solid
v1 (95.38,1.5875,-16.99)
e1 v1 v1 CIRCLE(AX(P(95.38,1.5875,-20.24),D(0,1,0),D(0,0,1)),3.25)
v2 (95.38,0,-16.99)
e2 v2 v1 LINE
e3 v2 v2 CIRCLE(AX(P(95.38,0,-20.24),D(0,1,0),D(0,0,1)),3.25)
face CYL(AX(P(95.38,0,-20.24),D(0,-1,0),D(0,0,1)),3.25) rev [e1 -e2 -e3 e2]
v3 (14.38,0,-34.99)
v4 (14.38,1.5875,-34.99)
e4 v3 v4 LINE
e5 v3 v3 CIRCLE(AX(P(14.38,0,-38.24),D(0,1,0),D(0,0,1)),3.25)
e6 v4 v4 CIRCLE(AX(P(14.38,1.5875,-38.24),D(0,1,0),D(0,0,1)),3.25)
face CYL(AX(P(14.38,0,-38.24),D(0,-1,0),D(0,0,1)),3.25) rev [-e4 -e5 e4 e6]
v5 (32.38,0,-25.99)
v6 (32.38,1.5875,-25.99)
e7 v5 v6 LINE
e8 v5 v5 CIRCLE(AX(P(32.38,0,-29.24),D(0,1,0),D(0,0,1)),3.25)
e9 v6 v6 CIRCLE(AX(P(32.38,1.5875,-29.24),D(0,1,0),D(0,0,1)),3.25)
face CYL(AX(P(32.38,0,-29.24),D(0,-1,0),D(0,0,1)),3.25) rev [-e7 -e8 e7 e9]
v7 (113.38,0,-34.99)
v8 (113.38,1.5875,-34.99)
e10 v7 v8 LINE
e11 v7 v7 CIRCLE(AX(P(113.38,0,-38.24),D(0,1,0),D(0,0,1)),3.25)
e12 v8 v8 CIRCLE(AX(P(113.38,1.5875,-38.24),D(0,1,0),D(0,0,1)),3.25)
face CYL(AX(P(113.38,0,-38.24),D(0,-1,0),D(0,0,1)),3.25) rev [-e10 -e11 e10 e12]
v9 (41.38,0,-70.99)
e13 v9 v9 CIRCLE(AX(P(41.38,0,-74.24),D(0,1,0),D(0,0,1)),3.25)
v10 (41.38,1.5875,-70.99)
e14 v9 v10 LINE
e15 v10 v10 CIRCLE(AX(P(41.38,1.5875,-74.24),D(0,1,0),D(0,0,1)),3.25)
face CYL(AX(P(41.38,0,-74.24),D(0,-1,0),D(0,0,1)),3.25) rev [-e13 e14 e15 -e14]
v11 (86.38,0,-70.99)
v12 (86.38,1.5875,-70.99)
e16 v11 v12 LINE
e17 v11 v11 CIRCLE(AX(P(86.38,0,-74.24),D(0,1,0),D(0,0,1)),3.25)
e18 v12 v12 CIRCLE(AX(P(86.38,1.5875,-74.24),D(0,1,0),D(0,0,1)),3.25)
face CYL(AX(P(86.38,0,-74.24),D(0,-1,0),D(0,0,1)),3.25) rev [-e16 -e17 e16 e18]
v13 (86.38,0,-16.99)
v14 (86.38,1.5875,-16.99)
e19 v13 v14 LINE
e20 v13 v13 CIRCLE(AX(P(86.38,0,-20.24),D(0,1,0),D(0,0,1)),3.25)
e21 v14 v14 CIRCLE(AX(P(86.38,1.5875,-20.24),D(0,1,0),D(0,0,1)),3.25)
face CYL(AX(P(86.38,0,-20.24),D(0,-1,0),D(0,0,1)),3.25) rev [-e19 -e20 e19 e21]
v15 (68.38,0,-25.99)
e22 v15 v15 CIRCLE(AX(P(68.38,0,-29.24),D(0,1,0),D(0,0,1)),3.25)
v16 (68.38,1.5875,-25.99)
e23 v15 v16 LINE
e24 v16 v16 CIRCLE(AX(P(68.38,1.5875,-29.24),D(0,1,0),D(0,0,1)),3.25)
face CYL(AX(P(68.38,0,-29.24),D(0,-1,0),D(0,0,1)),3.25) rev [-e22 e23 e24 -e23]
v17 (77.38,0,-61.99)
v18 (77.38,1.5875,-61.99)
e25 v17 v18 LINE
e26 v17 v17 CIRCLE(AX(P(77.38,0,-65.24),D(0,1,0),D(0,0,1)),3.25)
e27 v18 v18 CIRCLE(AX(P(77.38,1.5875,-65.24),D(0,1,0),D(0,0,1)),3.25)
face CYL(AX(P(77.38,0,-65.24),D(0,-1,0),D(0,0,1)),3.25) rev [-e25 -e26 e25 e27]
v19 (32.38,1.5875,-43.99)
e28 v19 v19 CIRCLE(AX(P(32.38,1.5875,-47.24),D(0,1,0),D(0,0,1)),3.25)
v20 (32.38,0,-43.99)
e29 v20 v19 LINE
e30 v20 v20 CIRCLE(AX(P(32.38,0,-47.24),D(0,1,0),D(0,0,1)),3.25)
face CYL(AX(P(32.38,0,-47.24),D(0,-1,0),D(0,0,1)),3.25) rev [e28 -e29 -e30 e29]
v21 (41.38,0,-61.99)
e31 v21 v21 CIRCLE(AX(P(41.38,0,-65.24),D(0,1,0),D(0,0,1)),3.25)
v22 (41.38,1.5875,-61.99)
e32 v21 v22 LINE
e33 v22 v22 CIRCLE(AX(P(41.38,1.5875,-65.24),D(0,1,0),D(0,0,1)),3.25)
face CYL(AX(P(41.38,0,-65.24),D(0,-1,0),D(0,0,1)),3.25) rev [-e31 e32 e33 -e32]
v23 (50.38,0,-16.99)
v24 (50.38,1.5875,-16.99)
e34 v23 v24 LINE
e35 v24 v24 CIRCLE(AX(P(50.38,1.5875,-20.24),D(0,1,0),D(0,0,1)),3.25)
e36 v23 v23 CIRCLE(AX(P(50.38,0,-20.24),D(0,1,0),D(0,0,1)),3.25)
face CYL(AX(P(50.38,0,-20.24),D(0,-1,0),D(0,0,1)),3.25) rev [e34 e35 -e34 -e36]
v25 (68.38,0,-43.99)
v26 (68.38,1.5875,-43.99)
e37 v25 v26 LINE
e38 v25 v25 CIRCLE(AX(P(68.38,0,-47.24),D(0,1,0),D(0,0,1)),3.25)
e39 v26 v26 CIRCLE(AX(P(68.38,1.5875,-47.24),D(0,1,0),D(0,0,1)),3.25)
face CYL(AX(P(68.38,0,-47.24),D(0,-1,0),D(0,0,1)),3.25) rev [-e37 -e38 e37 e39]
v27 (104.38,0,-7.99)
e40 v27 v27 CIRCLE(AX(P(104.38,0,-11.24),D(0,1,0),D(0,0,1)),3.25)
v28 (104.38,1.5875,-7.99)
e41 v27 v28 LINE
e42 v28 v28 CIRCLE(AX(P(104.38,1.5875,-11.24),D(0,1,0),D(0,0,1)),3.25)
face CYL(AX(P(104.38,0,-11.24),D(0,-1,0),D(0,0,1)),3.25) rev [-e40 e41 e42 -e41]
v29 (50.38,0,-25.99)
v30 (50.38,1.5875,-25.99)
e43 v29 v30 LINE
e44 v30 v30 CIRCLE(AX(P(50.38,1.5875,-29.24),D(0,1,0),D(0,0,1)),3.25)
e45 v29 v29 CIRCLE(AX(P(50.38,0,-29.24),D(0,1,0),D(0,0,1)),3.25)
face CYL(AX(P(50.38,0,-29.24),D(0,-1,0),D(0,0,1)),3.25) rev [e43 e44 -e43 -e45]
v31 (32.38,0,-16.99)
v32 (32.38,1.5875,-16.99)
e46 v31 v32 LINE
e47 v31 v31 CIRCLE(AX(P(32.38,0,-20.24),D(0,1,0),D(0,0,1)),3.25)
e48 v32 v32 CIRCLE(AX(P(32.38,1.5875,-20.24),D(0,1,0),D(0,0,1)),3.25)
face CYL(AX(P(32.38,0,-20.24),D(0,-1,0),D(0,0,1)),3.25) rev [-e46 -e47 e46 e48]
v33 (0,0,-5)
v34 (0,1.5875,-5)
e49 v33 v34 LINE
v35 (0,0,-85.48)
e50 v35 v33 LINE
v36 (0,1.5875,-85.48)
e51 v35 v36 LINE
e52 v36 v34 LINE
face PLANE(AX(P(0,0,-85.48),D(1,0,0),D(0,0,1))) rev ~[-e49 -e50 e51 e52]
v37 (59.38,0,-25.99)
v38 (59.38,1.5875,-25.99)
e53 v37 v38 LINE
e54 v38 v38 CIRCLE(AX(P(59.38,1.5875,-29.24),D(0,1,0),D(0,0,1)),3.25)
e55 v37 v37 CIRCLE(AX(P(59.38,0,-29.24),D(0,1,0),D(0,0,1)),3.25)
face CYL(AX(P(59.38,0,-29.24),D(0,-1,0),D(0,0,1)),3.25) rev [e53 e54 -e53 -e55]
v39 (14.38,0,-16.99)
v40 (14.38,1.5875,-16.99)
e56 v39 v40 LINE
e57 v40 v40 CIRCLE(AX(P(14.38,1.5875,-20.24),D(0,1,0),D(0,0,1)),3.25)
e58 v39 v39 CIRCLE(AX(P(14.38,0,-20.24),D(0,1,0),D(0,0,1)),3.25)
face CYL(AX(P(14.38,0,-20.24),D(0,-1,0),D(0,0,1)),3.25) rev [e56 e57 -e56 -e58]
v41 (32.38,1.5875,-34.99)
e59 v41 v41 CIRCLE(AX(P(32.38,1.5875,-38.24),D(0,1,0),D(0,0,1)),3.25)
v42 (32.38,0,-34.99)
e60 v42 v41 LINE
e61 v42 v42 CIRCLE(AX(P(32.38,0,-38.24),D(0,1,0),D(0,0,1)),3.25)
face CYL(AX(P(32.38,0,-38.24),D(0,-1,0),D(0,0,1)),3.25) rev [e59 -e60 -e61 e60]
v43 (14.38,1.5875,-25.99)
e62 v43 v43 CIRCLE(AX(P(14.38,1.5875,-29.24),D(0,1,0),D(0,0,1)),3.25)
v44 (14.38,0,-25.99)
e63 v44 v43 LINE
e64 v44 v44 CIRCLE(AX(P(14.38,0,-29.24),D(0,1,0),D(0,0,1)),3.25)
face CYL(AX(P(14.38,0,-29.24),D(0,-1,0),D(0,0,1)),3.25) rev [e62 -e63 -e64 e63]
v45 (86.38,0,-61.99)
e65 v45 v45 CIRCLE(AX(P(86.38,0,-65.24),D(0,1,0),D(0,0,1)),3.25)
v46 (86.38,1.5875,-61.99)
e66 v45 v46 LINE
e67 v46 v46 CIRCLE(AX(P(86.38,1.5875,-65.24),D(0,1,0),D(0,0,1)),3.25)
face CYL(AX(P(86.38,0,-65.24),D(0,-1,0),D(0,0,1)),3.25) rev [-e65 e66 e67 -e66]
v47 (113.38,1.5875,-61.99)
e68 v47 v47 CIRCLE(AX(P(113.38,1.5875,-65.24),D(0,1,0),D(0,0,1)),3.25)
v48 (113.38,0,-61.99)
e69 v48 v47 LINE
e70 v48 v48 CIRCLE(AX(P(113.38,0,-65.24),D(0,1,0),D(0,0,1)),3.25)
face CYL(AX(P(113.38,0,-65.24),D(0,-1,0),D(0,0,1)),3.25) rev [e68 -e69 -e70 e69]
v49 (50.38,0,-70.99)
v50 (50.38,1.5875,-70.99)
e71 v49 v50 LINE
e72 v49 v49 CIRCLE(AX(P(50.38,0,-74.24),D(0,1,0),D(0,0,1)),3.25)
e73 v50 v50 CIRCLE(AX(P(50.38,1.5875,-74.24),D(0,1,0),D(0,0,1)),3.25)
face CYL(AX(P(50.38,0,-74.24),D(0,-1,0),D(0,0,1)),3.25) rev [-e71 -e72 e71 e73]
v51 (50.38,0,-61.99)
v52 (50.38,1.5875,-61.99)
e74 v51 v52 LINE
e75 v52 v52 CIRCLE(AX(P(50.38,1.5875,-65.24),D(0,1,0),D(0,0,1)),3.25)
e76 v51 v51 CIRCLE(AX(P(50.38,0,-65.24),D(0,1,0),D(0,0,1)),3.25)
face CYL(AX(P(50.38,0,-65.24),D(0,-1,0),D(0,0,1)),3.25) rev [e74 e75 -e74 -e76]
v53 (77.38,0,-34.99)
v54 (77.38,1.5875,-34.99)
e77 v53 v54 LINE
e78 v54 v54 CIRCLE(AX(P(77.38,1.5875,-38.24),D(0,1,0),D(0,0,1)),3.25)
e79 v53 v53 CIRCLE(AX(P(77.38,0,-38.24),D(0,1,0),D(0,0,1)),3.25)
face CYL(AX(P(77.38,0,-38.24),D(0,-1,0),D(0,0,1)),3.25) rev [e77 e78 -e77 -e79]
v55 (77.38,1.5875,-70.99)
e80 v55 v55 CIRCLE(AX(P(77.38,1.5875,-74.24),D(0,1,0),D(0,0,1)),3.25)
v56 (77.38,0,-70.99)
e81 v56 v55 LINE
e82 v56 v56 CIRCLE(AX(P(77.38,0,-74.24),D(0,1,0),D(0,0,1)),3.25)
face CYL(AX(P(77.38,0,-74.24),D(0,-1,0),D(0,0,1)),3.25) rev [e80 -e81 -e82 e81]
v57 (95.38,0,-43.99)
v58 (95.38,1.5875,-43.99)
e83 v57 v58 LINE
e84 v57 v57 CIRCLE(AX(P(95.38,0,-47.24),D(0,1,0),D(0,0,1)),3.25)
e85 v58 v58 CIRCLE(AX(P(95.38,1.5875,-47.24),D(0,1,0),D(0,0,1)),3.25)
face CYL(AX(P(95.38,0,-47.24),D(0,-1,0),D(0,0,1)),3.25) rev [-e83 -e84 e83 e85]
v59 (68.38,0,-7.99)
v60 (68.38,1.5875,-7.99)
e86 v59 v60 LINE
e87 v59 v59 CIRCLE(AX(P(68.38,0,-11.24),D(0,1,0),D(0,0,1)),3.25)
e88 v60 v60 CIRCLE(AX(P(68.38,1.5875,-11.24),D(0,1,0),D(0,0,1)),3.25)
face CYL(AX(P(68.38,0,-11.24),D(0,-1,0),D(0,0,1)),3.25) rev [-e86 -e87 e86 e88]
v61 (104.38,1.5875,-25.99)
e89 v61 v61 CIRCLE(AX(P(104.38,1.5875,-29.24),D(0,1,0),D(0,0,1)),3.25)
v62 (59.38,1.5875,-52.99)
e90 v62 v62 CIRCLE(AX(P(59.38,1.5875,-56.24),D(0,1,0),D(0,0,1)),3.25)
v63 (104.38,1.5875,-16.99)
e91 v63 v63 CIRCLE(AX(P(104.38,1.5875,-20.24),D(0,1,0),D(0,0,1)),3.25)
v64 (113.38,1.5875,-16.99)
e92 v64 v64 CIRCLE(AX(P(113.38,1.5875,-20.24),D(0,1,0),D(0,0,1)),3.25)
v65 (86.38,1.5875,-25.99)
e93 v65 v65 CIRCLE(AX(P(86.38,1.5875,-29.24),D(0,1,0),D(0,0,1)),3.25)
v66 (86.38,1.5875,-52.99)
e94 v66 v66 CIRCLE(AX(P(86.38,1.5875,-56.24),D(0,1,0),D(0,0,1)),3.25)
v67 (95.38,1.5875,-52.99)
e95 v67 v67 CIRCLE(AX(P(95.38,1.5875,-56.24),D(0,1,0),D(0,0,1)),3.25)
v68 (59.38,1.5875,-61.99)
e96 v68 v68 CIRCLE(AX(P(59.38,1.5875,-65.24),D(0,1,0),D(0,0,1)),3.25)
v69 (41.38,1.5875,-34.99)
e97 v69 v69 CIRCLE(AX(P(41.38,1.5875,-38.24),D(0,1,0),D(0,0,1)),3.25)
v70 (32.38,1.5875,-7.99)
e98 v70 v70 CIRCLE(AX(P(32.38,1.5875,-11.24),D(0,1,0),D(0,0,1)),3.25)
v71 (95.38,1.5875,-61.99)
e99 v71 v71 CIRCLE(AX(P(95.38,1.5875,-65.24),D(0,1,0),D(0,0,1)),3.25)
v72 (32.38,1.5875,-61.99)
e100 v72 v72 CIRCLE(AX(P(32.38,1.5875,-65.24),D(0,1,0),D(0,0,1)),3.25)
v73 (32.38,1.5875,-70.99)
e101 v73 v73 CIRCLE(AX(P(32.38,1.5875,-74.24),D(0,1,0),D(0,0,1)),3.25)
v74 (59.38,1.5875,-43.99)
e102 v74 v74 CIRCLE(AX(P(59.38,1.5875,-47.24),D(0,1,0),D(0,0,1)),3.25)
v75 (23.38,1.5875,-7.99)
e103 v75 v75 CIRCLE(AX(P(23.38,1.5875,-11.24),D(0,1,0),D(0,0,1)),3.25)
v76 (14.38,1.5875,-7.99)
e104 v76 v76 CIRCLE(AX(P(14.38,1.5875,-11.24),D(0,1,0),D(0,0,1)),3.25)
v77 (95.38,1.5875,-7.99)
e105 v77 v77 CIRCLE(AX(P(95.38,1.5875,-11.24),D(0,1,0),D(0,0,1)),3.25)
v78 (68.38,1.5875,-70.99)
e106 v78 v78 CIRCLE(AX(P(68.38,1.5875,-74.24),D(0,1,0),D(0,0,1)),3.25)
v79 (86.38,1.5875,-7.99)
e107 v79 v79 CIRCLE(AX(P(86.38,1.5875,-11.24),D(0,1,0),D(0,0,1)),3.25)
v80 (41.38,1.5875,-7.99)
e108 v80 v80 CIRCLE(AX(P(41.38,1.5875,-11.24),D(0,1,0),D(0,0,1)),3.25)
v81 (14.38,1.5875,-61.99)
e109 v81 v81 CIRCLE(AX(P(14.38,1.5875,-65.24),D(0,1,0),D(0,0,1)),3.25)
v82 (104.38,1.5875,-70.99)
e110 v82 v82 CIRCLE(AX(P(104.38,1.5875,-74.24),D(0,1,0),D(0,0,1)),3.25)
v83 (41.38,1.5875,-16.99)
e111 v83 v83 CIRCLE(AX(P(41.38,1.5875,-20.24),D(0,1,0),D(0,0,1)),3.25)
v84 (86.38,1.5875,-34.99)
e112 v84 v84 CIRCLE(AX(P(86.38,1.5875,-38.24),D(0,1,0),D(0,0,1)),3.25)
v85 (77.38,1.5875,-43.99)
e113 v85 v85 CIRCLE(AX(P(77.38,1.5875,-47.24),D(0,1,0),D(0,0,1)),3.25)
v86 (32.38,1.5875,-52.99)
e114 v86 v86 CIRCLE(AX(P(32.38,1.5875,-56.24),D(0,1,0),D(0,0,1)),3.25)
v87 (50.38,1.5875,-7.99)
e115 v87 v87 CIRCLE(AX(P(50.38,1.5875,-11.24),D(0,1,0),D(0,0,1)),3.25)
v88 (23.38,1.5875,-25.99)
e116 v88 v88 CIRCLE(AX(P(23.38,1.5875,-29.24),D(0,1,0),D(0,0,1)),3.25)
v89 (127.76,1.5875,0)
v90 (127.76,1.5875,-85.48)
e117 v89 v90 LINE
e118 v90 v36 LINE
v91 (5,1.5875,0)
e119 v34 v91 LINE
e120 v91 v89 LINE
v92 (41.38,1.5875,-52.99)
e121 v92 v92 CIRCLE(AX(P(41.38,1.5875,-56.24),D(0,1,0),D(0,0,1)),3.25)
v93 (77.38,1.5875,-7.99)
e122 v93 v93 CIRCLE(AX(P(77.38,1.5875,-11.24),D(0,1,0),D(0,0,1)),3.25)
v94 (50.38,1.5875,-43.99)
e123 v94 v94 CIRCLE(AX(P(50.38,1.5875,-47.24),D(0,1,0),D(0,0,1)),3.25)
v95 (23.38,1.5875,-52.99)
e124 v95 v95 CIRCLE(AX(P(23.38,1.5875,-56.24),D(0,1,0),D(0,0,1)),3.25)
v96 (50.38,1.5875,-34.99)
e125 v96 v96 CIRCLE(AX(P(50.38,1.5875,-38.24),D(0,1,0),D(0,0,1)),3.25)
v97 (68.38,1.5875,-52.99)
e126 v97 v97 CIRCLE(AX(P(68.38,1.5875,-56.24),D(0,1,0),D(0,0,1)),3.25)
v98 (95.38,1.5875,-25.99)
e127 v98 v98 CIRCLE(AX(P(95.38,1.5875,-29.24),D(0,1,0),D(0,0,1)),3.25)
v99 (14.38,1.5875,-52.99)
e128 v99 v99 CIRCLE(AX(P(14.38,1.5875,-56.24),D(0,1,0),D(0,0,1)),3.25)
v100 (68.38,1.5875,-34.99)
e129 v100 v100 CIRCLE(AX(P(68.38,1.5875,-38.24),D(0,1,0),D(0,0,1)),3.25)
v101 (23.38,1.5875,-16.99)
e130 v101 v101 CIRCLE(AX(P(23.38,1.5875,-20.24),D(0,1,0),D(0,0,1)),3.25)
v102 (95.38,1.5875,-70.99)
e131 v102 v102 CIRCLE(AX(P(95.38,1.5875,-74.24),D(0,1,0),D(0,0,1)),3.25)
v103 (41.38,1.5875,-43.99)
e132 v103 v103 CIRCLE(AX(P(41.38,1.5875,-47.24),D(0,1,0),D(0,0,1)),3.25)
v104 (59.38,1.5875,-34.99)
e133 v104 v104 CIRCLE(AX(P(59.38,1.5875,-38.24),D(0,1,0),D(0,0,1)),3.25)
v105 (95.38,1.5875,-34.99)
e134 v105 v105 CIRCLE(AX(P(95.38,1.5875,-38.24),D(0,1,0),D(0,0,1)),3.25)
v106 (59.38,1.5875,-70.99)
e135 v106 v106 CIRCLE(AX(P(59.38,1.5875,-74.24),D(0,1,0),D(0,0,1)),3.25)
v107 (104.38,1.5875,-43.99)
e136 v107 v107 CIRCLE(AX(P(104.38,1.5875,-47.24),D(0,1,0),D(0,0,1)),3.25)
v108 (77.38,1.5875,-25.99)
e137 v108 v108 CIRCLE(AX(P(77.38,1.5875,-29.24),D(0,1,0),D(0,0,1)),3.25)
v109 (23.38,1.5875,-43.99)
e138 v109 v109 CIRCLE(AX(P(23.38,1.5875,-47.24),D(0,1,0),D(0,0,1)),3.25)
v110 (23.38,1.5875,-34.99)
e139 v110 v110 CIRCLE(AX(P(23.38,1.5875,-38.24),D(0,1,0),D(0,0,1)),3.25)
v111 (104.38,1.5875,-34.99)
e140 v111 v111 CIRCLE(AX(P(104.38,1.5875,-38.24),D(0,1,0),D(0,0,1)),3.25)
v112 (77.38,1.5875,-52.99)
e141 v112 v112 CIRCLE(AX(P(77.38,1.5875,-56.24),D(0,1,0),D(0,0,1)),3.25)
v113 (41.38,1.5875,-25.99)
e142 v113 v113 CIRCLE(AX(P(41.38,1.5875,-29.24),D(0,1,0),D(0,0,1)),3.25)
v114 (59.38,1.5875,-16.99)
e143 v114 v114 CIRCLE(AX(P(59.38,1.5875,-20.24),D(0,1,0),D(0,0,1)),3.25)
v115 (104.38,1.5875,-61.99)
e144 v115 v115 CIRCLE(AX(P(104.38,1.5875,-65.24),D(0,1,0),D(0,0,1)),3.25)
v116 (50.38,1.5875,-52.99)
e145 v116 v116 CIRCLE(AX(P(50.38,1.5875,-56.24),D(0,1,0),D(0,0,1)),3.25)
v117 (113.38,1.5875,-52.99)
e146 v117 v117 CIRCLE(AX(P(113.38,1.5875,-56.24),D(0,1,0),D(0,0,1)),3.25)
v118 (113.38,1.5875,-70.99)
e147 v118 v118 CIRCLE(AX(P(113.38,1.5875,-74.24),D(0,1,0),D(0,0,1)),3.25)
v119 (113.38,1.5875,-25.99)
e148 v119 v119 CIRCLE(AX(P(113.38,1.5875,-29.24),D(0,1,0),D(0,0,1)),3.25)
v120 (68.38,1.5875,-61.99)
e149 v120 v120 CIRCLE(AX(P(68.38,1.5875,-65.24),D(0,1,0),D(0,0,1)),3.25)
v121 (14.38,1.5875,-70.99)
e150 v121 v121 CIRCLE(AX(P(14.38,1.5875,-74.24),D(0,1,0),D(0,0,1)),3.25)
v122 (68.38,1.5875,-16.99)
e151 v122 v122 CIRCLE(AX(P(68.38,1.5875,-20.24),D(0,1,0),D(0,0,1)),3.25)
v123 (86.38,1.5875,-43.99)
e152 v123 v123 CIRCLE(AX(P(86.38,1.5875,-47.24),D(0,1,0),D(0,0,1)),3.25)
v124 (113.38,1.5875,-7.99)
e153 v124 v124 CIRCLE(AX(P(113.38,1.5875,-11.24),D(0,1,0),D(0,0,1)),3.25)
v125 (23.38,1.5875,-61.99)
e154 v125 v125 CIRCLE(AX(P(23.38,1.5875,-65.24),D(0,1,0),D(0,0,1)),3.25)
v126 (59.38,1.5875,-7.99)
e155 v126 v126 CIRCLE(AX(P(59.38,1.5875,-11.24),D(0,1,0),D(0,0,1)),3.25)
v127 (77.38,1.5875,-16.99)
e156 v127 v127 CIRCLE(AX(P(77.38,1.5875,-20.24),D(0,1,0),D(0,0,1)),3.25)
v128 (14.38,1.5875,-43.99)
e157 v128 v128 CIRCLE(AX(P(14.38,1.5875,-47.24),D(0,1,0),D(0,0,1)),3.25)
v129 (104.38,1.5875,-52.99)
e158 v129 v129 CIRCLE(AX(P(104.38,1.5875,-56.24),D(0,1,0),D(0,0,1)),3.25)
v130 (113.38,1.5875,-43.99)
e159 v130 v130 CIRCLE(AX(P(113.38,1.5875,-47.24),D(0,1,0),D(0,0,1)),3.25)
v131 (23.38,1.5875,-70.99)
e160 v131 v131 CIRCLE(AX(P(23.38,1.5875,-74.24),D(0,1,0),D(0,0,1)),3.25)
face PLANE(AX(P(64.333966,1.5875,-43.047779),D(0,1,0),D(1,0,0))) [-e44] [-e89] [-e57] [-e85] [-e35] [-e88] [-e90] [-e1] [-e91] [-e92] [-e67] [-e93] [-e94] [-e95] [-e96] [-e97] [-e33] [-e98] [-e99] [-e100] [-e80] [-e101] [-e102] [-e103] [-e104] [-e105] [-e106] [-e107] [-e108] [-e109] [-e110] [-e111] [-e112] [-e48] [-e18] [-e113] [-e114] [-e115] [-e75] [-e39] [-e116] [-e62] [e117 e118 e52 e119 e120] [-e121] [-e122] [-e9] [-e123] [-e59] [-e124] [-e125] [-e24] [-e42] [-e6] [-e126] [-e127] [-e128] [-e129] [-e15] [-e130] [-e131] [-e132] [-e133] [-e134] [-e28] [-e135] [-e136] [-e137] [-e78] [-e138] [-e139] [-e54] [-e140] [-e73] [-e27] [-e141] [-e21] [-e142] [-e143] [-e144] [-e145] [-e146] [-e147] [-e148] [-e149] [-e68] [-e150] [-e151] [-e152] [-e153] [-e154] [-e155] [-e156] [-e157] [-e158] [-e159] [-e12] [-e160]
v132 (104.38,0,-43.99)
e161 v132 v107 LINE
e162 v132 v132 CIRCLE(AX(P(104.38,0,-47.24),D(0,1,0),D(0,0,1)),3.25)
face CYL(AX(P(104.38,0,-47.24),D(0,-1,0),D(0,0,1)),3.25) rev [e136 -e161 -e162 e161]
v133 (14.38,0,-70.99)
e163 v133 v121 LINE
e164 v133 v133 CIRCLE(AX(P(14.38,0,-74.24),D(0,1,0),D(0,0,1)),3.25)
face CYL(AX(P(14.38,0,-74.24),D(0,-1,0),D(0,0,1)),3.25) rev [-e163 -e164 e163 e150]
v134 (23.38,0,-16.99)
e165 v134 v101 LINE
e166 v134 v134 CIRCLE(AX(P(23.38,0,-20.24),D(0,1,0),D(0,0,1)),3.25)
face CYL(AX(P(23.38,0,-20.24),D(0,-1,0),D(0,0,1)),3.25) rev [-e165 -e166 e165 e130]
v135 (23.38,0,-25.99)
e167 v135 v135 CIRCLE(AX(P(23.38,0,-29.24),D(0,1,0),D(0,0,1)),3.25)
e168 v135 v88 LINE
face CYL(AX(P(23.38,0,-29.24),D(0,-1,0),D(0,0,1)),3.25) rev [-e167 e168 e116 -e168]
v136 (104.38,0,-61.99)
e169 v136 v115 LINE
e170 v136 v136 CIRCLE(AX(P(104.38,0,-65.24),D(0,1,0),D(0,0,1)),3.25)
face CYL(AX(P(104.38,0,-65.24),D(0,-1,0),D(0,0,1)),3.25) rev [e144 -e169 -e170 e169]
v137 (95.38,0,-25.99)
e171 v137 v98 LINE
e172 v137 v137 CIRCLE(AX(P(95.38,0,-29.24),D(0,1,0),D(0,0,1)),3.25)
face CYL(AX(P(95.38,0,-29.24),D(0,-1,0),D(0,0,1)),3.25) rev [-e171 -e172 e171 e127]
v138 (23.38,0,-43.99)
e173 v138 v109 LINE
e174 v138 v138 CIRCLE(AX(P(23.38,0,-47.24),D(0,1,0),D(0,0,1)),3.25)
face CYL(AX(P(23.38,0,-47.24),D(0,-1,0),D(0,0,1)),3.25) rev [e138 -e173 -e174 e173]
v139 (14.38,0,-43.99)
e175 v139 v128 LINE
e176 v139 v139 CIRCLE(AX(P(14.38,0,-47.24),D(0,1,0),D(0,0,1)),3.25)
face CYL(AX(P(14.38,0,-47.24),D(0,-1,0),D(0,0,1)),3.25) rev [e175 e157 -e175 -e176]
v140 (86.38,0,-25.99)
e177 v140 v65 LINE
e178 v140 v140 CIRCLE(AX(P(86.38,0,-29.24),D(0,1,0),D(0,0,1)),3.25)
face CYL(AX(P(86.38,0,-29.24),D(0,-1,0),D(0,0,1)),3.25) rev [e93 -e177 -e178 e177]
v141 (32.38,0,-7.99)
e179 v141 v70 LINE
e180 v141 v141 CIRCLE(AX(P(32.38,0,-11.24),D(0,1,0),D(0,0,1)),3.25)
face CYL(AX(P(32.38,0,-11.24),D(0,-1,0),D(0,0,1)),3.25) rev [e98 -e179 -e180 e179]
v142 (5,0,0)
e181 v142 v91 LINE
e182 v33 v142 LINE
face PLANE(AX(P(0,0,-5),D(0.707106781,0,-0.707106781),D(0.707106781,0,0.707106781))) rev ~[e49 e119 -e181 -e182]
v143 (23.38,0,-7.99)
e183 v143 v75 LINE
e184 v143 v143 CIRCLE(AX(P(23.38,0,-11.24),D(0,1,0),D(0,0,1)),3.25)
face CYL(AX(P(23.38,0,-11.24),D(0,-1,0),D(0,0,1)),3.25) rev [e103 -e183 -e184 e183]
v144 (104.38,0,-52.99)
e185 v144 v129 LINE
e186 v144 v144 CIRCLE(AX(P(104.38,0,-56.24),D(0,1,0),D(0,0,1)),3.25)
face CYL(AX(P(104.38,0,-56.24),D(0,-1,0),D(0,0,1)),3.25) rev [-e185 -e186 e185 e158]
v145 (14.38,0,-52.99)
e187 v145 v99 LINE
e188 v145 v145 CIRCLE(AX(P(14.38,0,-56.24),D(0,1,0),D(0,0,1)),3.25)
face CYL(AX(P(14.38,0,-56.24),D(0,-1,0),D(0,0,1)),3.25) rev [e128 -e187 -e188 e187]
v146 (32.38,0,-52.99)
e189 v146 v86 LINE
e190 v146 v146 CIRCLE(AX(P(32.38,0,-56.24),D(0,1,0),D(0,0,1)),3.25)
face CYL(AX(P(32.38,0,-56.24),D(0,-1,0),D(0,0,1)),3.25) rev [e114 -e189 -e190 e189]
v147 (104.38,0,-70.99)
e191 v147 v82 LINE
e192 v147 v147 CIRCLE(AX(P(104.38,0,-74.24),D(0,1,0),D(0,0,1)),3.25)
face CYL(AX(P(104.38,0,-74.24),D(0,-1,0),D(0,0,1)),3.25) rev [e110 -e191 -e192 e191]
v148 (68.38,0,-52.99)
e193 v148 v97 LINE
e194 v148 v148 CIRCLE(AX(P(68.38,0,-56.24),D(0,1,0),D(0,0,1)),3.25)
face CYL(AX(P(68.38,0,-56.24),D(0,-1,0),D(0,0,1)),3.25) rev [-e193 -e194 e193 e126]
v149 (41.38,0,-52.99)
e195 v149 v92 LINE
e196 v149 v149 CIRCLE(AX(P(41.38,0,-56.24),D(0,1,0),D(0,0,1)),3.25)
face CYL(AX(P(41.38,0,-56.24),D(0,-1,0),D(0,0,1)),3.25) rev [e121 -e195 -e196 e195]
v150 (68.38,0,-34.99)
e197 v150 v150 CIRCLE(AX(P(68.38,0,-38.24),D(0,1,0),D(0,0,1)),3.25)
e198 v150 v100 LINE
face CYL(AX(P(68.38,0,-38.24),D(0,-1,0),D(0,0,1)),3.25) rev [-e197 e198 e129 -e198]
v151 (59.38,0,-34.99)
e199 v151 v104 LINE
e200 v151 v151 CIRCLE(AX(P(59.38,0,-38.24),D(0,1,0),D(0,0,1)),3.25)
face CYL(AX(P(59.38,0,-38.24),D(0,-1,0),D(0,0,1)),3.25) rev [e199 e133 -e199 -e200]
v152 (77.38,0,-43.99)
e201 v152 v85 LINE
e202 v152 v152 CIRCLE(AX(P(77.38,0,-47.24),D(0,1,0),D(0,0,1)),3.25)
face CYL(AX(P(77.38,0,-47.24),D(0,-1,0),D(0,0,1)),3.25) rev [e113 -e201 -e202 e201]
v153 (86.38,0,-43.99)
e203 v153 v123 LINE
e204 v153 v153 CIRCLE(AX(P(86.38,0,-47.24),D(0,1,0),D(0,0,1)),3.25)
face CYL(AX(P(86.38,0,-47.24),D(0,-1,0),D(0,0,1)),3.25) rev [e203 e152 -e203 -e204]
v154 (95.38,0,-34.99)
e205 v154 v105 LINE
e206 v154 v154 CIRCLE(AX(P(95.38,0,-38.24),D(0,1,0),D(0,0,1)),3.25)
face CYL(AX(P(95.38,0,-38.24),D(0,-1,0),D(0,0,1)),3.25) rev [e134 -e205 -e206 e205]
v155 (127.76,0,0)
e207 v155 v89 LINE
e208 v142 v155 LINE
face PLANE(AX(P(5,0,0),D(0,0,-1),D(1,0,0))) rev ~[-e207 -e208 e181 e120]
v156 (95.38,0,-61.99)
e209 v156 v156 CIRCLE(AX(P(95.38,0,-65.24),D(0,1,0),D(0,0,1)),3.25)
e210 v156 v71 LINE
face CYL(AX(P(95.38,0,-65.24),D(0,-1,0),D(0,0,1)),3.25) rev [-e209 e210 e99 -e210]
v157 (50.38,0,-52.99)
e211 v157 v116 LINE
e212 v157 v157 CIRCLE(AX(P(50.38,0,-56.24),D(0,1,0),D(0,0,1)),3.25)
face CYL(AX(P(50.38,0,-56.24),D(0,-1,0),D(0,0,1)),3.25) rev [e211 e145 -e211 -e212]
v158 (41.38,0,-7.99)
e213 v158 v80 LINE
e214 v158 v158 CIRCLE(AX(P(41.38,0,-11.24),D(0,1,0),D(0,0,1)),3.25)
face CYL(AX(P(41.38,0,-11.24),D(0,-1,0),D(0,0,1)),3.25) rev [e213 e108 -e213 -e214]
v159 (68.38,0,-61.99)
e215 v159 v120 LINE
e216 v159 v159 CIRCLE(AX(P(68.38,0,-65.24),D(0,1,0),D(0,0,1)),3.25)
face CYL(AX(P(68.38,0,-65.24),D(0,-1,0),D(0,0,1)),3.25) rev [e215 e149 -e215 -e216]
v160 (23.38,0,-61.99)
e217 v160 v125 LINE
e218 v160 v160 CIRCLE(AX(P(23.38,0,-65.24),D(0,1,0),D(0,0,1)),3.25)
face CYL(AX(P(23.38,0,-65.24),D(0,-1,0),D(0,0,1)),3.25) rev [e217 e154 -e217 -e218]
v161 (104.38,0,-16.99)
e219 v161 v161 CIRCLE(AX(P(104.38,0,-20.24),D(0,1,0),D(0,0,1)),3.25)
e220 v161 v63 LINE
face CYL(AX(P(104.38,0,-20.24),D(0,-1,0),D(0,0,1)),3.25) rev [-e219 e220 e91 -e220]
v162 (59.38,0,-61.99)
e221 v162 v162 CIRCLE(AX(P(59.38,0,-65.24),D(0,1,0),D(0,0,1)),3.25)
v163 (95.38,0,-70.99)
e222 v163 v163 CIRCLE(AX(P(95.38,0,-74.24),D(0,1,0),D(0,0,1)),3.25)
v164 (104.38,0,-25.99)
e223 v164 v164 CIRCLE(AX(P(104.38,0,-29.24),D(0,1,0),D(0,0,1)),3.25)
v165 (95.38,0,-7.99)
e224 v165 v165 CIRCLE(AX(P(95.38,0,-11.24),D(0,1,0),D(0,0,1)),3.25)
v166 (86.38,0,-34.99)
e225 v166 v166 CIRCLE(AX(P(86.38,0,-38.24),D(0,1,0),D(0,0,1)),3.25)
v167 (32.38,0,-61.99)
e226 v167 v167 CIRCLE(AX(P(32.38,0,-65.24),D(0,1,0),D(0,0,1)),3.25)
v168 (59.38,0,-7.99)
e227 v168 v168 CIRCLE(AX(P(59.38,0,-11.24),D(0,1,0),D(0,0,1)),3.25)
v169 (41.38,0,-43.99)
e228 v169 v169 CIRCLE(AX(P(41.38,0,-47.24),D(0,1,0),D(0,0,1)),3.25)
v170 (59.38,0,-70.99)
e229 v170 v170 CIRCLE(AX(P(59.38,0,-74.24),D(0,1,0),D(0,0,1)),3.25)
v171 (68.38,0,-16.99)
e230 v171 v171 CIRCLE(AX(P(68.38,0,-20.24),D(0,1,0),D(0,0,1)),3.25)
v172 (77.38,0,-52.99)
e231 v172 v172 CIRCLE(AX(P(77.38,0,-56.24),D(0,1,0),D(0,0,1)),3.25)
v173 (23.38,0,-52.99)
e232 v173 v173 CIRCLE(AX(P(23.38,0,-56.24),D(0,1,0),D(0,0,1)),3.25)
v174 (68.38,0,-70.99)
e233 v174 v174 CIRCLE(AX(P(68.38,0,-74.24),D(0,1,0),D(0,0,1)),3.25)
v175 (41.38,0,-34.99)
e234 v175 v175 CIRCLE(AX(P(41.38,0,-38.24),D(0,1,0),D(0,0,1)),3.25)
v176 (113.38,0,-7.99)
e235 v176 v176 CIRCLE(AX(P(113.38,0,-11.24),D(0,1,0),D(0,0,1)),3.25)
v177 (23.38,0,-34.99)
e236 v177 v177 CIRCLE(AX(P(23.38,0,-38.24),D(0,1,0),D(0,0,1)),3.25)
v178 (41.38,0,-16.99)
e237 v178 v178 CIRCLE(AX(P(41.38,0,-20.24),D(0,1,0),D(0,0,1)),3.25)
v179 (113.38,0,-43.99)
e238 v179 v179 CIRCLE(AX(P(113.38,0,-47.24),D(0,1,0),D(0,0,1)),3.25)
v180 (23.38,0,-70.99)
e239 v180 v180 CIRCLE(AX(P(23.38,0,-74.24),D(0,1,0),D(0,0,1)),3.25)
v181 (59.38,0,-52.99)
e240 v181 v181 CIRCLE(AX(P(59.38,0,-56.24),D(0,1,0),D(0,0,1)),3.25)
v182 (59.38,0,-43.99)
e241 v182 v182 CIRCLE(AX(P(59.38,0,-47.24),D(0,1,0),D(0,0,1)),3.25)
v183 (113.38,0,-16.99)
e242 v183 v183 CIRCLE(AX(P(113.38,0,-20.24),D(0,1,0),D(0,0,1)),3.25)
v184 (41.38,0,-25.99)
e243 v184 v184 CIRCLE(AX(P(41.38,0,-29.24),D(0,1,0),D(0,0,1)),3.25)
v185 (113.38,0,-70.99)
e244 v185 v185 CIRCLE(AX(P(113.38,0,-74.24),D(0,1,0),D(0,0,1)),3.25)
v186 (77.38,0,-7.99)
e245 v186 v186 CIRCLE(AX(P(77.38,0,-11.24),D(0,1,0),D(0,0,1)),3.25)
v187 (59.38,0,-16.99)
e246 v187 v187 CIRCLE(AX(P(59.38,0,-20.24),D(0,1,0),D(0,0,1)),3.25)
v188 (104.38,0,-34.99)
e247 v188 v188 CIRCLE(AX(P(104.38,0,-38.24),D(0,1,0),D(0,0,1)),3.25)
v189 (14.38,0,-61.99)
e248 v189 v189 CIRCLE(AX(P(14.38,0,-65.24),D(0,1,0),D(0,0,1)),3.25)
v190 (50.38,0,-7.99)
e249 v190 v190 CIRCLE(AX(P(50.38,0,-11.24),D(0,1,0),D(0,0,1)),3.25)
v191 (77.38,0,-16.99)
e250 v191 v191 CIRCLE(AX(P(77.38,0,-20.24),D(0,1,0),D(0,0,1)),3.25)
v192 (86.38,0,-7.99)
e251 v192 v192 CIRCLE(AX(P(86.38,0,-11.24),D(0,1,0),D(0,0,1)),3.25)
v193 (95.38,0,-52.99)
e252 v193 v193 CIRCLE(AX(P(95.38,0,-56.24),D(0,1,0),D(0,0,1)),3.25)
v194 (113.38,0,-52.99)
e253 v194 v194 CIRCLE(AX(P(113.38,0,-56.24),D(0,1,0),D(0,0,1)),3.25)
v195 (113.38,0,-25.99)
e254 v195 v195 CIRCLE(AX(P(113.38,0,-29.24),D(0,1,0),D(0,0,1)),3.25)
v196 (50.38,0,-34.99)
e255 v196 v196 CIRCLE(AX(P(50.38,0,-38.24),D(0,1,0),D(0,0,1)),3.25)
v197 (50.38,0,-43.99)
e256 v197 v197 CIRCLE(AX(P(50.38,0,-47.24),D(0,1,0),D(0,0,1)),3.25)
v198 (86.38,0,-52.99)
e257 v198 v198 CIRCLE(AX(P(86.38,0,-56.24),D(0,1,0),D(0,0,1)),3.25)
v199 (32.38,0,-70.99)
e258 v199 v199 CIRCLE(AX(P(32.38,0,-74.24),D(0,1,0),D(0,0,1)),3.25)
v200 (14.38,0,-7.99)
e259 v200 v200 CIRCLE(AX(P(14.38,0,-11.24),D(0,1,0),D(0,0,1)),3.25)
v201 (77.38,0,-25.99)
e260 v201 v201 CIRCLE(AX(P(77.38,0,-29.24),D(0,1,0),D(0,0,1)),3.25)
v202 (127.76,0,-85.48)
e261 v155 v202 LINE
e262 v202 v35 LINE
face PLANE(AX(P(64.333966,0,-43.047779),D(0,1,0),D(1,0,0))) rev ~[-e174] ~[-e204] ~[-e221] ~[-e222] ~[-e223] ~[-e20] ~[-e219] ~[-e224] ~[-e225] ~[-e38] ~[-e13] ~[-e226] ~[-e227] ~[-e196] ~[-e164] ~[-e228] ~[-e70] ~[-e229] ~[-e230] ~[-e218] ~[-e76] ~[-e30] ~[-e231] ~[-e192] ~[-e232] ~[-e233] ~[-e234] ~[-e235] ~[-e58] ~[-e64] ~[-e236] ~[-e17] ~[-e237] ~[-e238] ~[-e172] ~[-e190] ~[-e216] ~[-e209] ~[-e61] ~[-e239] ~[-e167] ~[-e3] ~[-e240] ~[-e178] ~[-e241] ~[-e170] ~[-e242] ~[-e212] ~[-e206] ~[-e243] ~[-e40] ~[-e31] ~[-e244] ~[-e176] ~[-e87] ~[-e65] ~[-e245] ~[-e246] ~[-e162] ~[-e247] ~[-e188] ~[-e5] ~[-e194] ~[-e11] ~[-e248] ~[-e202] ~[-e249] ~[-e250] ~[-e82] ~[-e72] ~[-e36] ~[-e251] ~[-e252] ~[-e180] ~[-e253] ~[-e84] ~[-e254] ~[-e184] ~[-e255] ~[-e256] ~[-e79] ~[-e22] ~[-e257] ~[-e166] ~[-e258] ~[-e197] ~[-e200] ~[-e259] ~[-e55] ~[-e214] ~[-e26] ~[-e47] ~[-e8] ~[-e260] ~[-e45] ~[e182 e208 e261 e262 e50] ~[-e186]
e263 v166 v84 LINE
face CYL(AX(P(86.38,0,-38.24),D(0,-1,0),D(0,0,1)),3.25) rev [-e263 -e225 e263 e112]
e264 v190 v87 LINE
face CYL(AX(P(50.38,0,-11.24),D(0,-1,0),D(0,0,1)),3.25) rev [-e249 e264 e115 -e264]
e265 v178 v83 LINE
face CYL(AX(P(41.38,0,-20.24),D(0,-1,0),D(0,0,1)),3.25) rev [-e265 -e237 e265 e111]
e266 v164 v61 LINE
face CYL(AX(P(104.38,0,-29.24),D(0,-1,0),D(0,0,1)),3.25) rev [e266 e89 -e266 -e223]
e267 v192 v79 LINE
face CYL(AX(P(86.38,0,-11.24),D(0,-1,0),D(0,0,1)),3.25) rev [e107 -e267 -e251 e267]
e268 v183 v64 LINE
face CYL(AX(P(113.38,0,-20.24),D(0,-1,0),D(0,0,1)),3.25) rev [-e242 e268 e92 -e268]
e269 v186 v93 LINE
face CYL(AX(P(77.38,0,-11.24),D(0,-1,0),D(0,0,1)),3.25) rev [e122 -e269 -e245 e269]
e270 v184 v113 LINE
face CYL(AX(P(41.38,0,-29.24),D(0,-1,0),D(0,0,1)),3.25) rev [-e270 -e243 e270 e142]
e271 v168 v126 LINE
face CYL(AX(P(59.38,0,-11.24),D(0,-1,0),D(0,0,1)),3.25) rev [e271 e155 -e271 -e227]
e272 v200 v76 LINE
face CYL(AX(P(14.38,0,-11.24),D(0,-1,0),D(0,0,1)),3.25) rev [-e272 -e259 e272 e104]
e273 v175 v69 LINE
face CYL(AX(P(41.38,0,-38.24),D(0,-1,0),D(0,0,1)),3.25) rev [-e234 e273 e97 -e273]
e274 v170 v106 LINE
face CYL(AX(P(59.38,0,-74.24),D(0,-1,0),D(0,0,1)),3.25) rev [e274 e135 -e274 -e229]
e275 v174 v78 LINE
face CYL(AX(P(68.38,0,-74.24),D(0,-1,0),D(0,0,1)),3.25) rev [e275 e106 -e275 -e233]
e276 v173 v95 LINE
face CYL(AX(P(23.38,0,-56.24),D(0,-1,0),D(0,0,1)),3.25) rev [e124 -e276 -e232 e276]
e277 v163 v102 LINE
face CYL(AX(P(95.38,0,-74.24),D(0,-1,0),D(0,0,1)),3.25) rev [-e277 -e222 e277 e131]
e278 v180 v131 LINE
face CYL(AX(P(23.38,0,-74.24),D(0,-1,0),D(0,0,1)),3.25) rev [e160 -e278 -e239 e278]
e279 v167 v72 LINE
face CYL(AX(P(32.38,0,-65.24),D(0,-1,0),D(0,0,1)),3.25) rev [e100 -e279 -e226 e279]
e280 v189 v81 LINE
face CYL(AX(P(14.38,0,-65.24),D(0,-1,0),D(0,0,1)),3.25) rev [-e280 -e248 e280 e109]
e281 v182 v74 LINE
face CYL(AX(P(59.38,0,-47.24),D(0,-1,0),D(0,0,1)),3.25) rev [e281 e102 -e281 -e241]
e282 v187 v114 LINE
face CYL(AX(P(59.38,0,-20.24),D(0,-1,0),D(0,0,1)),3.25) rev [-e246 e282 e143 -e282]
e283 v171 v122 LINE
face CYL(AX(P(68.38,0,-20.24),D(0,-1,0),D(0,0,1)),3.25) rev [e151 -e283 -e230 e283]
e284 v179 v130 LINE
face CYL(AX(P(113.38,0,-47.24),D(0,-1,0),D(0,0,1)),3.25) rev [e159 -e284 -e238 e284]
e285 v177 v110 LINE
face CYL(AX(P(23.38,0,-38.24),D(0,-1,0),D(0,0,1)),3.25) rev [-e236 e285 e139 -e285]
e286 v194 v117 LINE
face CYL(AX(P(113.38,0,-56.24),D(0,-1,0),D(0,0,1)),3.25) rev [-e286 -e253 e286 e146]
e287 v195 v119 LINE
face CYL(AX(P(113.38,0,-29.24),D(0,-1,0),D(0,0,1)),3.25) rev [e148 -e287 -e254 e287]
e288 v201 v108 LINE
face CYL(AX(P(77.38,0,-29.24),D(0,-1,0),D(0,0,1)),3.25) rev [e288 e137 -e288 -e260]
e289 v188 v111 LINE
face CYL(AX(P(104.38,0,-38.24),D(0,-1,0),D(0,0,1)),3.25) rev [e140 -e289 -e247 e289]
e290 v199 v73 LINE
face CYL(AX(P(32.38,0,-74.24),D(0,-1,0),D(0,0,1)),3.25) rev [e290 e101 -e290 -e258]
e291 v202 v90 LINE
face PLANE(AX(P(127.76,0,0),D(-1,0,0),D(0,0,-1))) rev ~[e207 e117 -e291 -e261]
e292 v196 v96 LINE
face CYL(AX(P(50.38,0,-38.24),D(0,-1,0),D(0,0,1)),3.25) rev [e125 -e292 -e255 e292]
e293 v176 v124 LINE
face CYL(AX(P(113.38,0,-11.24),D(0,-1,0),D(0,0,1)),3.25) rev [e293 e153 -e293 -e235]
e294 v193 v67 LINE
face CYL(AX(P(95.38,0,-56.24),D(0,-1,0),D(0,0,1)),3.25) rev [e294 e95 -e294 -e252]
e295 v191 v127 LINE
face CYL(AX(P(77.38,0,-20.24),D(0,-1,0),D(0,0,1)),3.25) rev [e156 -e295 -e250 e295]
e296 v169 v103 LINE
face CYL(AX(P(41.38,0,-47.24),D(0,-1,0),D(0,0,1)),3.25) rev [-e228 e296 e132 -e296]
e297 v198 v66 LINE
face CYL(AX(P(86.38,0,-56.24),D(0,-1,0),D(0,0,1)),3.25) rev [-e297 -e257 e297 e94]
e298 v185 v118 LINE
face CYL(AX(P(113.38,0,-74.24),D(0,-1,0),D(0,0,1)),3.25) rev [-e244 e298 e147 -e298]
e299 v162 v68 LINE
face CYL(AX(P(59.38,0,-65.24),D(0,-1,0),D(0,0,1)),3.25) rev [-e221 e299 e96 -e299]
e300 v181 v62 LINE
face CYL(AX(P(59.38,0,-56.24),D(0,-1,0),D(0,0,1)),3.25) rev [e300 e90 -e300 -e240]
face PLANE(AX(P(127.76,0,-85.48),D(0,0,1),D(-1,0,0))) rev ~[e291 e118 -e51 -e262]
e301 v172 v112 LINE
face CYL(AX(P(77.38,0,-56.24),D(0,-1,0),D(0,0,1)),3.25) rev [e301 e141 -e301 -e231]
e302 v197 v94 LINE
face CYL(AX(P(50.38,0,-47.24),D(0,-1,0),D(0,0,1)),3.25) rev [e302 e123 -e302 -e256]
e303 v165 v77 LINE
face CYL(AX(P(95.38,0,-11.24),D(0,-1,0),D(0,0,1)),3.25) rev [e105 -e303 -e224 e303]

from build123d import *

# Parameters (mm, degrees)
SKETCH1_R           = 3.25
BOSS_EXTRUDE1_DEPTH = 1.5875


with BuildPart() as part:
    # Sketch1 → Boss-Extrude1 (new body)
    with BuildSketch(Plane(origin=(0, 0, 0), x_dir=(1, 0, 0), z_dir=(0, 1, 0))):
        Polygon((0, 5), (5, 0), (127.76, 0), (127.76, 85.48), (0, 85.48), align=None)
        with Locations(Location((14.38, 74.24, 0), (0, 0, 270))):
            Circle(SKETCH1_R, mode=Mode.SUBTRACT)
        with Locations(Location((23.38, 74.24, 0), (0, 0, 270))):
            Circle(SKETCH1_R, mode=Mode.SUBTRACT)
        with Locations(Location((32.38, 74.24, 0), (0, 0, 270))):
            Circle(SKETCH1_R, mode=Mode.SUBTRACT)
        with Locations(Location((41.38, 74.24, 0), (0, 0, 270))):
            Circle(SKETCH1_R, mode=Mode.SUBTRACT)
        with Locations(Location((50.38, 74.24, 0), (0, 0, 270))):
            Circle(SKETCH1_R, mode=Mode.SUBTRACT)
        with Locations(Location((59.38, 74.24, 0), (0, 0, 270))):
            Circle(SKETCH1_R, mode=Mode.SUBTRACT)
        with Locations(Location((68.38, 74.24, 0), (0, 0, 270))):
            Circle(SKETCH1_R, mode=Mode.SUBTRACT)
        with Locations(Location((77.38, 74.24, 0), (0, 0, 270))):
            Circle(SKETCH1_R, mode=Mode.SUBTRACT)
        with Locations(Location((86.38, 74.24, 0), (0, 0, 270))):
            Circle(SKETCH1_R, mode=Mode.SUBTRACT)
        with Locations(Location((95.38, 74.24, 0), (0, 0, 270))):
            Circle(SKETCH1_R, mode=Mode.SUBTRACT)
        with Locations(Location((104.38, 74.24, 0), (0, 0, 270))):
            Circle(SKETCH1_R, mode=Mode.SUBTRACT)
        with Locations(Location((113.38, 74.24, 0), (0, 0, 270))):
            Circle(SKETCH1_R, mode=Mode.SUBTRACT)
        with Locations(Location((23.38, 65.24, 0), (0, 0, 270))):
            Circle(SKETCH1_R, mode=Mode.SUBTRACT)
        with Locations(Location((32.38, 65.24, 0), (0, 0, 270))):
            Circle(SKETCH1_R, mode=Mode.SUBTRACT)
        with Locations(Location((41.38, 65.24, 0), (0, 0, 270))):
            Circle(SKETCH1_R, mode=Mode.SUBTRACT)
        with Locations(Location((50.38, 65.24, 0), (0, 0, 270))):
            Circle(SKETCH1_R, mode=Mode.SUBTRACT)
        with Locations(Location((59.38, 65.24, 0), (0, 0, 270))):
            Circle(SKETCH1_R, mode=Mode.SUBTRACT)
        with Locations(Location((68.38, 65.24, 0), (0, 0, 270))):
            Circle(SKETCH1_R, mode=Mode.SUBTRACT)
        with Locations(Location((77.38, 65.24, 0), (0, 0, 270))):
            Circle(SKETCH1_R, mode=Mode.SUBTRACT)
        with Locations(Location((86.38, 65.24, 0), (0, 0, 270))):
            Circle(SKETCH1_R, mode=Mode.SUBTRACT)
        with Locations(Location((95.38, 65.24, 0), (0, 0, 270))):
            Circle(SKETCH1_R, mode=Mode.SUBTRACT)
        with Locations(Location((104.38, 65.24, 0), (0, 0, 270))):
            Circle(SKETCH1_R, mode=Mode.SUBTRACT)
        with Locations(Location((113.38, 65.24, 0), (0, 0, 270))):
            Circle(SKETCH1_R, mode=Mode.SUBTRACT)
        with Locations(Location((23.38, 56.24, 0), (0, 0, 270))):
            Circle(SKETCH1_R, mode=Mode.SUBTRACT)
        with Locations(Location((32.38, 56.24, 0), (0, 0, 270))):
            Circle(SKETCH1_R, mode=Mode.SUBTRACT)
        with Locations(Location((41.38, 56.24, 0), (0, 0, 270))):
            Circle(SKETCH1_R, mode=Mode.SUBTRACT)
        with Locations(Location((50.38, 56.24, 0), (0, 0, 270))):
            Circle(SKETCH1_R, mode=Mode.SUBTRACT)
        with Locations(Location((59.38, 56.24, 0), (0, 0, 270))):
            Circle(SKETCH1_R, mode=Mode.SUBTRACT)
        with Locations(Location((68.38, 56.24, 0), (0, 0, 270))):
            Circle(SKETCH1_R, mode=Mode.SUBTRACT)
        with Locations(Location((77.38, 56.24, 0), (0, 0, 270))):
            Circle(SKETCH1_R, mode=Mode.SUBTRACT)
        with Locations(Location((86.38, 56.24, 0), (0, 0, 270))):
            Circle(SKETCH1_R, mode=Mode.SUBTRACT)
        with Locations(Location((95.38, 56.24, 0), (0, 0, 270))):
            Circle(SKETCH1_R, mode=Mode.SUBTRACT)
        with Locations(Location((104.38, 56.24, 0), (0, 0, 270))):
            Circle(SKETCH1_R, mode=Mode.SUBTRACT)
        with Locations(Location((113.38, 56.24, 0), (0, 0, 270))):
            Circle(SKETCH1_R, mode=Mode.SUBTRACT)
        with Locations(Location((23.38, 47.24, 0), (0, 0, 270))):
            Circle(SKETCH1_R, mode=Mode.SUBTRACT)
        with Locations(Location((32.38, 47.24, 0), (0, 0, 270))):
            Circle(SKETCH1_R, mode=Mode.SUBTRACT)
        with Locations(Location((41.38, 47.24, 0), (0, 0, 270))):
            Circle(SKETCH1_R, mode=Mode.SUBTRACT)
        with Locations(Location((50.38, 47.24, 0), (0, 0, 270))):
            Circle(SKETCH1_R, mode=Mode.SUBTRACT)
        with Locations(Location((59.38, 47.24, 0), (0, 0, 270))):
            Circle(SKETCH1_R, mode=Mode.SUBTRACT)
        with Locations(Location((68.38, 47.24, 0), (0, 0, 270))):
            Circle(SKETCH1_R, mode=Mode.SUBTRACT)
        with Locations(Location((77.38, 47.24, 0), (0, 0, 270))):
            Circle(SKETCH1_R, mode=Mode.SUBTRACT)
        with Locations(Location((86.38, 47.24, 0), (0, 0, 270))):
            Circle(SKETCH1_R, mode=Mode.SUBTRACT)
        with Locations(Location((95.38, 47.24, 0), (0, 0, 270))):
            Circle(SKETCH1_R, mode=Mode.SUBTRACT)
        with Locations(Location((104.38, 47.24, 0), (0, 0, 270))):
            Circle(SKETCH1_R, mode=Mode.SUBTRACT)
        with Locations(Location((113.38, 47.24, 0), (0, 0, 270))):
            Circle(SKETCH1_R, mode=Mode.SUBTRACT)
        with Locations(Location((23.38, 38.24, 0), (0, 0, 270))):
            Circle(SKETCH1_R, mode=Mode.SUBTRACT)
        with Locations(Location((32.38, 38.24, 0), (0, 0, 270))):
            Circle(SKETCH1_R, mode=Mode.SUBTRACT)
        with Locations(Location((41.38, 38.24, 0), (0, 0, 270))):
            Circle(SKETCH1_R, mode=Mode.SUBTRACT)
        with Locations(Location((50.38, 38.24, 0), (0, 0, 270))):
            Circle(SKETCH1_R, mode=Mode.SUBTRACT)
        with Locations(Location((59.38, 38.24, 0), (0, 0, 270))):
            Circle(SKETCH1_R, mode=Mode.SUBTRACT)
        with Locations(Location((68.38, 38.24, 0), (0, 0, 270))):
            Circle(SKETCH1_R, mode=Mode.SUBTRACT)
        with Locations(Location((77.38, 38.24, 0), (0, 0, 270))):
            Circle(SKETCH1_R, mode=Mode.SUBTRACT)
        with Locations(Location((86.38, 38.24, 0), (0, 0, 270))):
            Circle(SKETCH1_R, mode=Mode.SUBTRACT)
        with Locations(Location((95.38, 38.24, 0), (0, 0, 270))):
            Circle(SKETCH1_R, mode=Mode.SUBTRACT)
        with Locations(Location((104.38, 38.24, 0), (0, 0, 270))):
            Circle(SKETCH1_R, mode=Mode.SUBTRACT)
        with Locations(Location((113.38, 38.24, 0), (0, 0, 270))):
            Circle(SKETCH1_R, mode=Mode.SUBTRACT)
        with Locations(Location((23.38, 29.24, 0), (0, 0, 270))):
            Circle(SKETCH1_R, mode=Mode.SUBTRACT)
        with Locations(Location((32.38, 29.24, 0), (0, 0, 270))):
            Circle(SKETCH1_R, mode=Mode.SUBTRACT)
        with Locations(Location((41.38, 29.24, 0), (0, 0, 270))):
            Circle(SKETCH1_R, mode=Mode.SUBTRACT)
        with Locations(Location((50.38, 29.24, 0), (0, 0, 270))):
            Circle(SKETCH1_R, mode=Mode.SUBTRACT)
        with Locations(Location((59.38, 29.24, 0), (0, 0, 270))):
            Circle(SKETCH1_R, mode=Mode.SUBTRACT)
        with Locations(Location((68.38, 29.24, 0), (0, 0, 270))):
            Circle(SKETCH1_R, mode=Mode.SUBTRACT)
        with Locations(Location((77.38, 29.24, 0), (0, 0, 270))):
            Circle(SKETCH1_R, mode=Mode.SUBTRACT)
        with Locations(Location((86.38, 29.24, 0), (0, 0, 270))):
            Circle(SKETCH1_R, mode=Mode.SUBTRACT)
        with Locations(Location((95.38, 29.24, 0), (0, 0, 270))):
            Circle(SKETCH1_R, mode=Mode.SUBTRACT)
        with Locations(Location((104.38, 29.24, 0), (0, 0, 270))):
            Circle(SKETCH1_R, mode=Mode.SUBTRACT)
        with Locations(Location((113.38, 29.24, 0), (0, 0, 270))):
            Circle(SKETCH1_R, mode=Mode.SUBTRACT)
        with Locations(Location((23.38, 20.24, 0), (0, 0, 270))):
            Circle(SKETCH1_R, mode=Mode.SUBTRACT)
        with Locations(Location((32.38, 20.24, 0), (0, 0, 270))):
            Circle(SKETCH1_R, mode=Mode.SUBTRACT)
        with Locations(Location((41.38, 20.24, 0), (0, 0, 270))):
            Circle(SKETCH1_R, mode=Mode.SUBTRACT)
        with Locations(Location((50.38, 20.24, 0), (0, 0, 270))):
            Circle(SKETCH1_R, mode=Mode.SUBTRACT)
        with Locations(Location((59.38, 20.24, 0), (0, 0, 270))):
            Circle(SKETCH1_R, mode=Mode.SUBTRACT)
        with Locations(Location((68.38, 20.24, 0), (0, 0, 270))):
            Circle(SKETCH1_R, mode=Mode.SUBTRACT)
        with Locations(Location((77.38, 20.24, 0), (0, 0, 270))):
            Circle(SKETCH1_R, mode=Mode.SUBTRACT)
        with Locations(Location((86.38, 20.24, 0), (0, 0, 270))):
            Circle(SKETCH1_R, mode=Mode.SUBTRACT)
        with Locations(Location((95.38, 20.24, 0), (0, 0, 270))):
            Circle(SKETCH1_R, mode=Mode.SUBTRACT)
        with Locations(Location((104.38, 20.24, 0), (0, 0, 270))):
            Circle(SKETCH1_R, mode=Mode.SUBTRACT)
        with Locations(Location((113.38, 20.24, 0), (0, 0, 270))):
            Circle(SKETCH1_R, mode=Mode.SUBTRACT)
        with Locations(Location((23.38, 11.24, 0), (0, 0, 270))):
            Circle(SKETCH1_R, mode=Mode.SUBTRACT)
        with Locations(Location((32.38, 11.24, 0), (0, 0, 270))):
            Circle(SKETCH1_R, mode=Mode.SUBTRACT)
        with Locations(Location((41.38, 11.24, 0), (0, 0, 270))):
            Circle(SKETCH1_R, mode=Mode.SUBTRACT)
        with Locations(Location((50.38, 11.24, 0), (0, 0, 270))):
            Circle(SKETCH1_R, mode=Mode.SUBTRACT)
        with Locations(Location((59.38, 11.24, 0), (0, 0, 270))):
            Circle(SKETCH1_R, mode=Mode.SUBTRACT)
        with Locations(Location((68.38, 11.24, 0), (0, 0, 270))):
            Circle(SKETCH1_R, mode=Mode.SUBTRACT)
        with Locations(Location((77.38, 11.24, 0), (0, 0, 270))):
            Circle(SKETCH1_R, mode=Mode.SUBTRACT)
        with Locations(Location((86.38, 11.24, 0), (0, 0, 270))):
            Circle(SKETCH1_R, mode=Mode.SUBTRACT)
        with Locations(Location((95.38, 11.24, 0), (0, 0, 270))):
            Circle(SKETCH1_R, mode=Mode.SUBTRACT)
        with Locations(Location((104.38, 11.24, 0), (0, 0, 270))):
            Circle(SKETCH1_R, mode=Mode.SUBTRACT)
        with Locations(Location((113.38, 11.24, 0), (0, 0, 270))):
            Circle(SKETCH1_R, mode=Mode.SUBTRACT)
        with Locations(Location((14.38, 65.24, 0), (0, 0, 270))):
            Circle(SKETCH1_R, mode=Mode.SUBTRACT)
        with Locations(Location((14.38, 56.24, 0), (0, 0, 270))):
            Circle(SKETCH1_R, mode=Mode.SUBTRACT)
        with Locations(Location((14.38, 47.24, 0), (0, 0, 270))):
            Circle(SKETCH1_R, mode=Mode.SUBTRACT)
        with Locations(Location((14.38, 38.24, 0), (0, 0, 270))):
            Circle(SKETCH1_R, mode=Mode.SUBTRACT)
        with Locations(Location((14.38, 29.24, 0), (0, 0, 270))):
            Circle(SKETCH1_R, mode=Mode.SUBTRACT)
        with Locations(Location((14.38, 20.24, 0), (0, 0, 270))):
            Circle(SKETCH1_R, mode=Mode.SUBTRACT)
        with Locations(Location((14.38, 11.24, 0), (0, 0, 270))):
            Circle(SKETCH1_R, mode=Mode.SUBTRACT)
    extrude(amount=BOSS_EXTRUDE1_DEPTH)


solid = part.part
